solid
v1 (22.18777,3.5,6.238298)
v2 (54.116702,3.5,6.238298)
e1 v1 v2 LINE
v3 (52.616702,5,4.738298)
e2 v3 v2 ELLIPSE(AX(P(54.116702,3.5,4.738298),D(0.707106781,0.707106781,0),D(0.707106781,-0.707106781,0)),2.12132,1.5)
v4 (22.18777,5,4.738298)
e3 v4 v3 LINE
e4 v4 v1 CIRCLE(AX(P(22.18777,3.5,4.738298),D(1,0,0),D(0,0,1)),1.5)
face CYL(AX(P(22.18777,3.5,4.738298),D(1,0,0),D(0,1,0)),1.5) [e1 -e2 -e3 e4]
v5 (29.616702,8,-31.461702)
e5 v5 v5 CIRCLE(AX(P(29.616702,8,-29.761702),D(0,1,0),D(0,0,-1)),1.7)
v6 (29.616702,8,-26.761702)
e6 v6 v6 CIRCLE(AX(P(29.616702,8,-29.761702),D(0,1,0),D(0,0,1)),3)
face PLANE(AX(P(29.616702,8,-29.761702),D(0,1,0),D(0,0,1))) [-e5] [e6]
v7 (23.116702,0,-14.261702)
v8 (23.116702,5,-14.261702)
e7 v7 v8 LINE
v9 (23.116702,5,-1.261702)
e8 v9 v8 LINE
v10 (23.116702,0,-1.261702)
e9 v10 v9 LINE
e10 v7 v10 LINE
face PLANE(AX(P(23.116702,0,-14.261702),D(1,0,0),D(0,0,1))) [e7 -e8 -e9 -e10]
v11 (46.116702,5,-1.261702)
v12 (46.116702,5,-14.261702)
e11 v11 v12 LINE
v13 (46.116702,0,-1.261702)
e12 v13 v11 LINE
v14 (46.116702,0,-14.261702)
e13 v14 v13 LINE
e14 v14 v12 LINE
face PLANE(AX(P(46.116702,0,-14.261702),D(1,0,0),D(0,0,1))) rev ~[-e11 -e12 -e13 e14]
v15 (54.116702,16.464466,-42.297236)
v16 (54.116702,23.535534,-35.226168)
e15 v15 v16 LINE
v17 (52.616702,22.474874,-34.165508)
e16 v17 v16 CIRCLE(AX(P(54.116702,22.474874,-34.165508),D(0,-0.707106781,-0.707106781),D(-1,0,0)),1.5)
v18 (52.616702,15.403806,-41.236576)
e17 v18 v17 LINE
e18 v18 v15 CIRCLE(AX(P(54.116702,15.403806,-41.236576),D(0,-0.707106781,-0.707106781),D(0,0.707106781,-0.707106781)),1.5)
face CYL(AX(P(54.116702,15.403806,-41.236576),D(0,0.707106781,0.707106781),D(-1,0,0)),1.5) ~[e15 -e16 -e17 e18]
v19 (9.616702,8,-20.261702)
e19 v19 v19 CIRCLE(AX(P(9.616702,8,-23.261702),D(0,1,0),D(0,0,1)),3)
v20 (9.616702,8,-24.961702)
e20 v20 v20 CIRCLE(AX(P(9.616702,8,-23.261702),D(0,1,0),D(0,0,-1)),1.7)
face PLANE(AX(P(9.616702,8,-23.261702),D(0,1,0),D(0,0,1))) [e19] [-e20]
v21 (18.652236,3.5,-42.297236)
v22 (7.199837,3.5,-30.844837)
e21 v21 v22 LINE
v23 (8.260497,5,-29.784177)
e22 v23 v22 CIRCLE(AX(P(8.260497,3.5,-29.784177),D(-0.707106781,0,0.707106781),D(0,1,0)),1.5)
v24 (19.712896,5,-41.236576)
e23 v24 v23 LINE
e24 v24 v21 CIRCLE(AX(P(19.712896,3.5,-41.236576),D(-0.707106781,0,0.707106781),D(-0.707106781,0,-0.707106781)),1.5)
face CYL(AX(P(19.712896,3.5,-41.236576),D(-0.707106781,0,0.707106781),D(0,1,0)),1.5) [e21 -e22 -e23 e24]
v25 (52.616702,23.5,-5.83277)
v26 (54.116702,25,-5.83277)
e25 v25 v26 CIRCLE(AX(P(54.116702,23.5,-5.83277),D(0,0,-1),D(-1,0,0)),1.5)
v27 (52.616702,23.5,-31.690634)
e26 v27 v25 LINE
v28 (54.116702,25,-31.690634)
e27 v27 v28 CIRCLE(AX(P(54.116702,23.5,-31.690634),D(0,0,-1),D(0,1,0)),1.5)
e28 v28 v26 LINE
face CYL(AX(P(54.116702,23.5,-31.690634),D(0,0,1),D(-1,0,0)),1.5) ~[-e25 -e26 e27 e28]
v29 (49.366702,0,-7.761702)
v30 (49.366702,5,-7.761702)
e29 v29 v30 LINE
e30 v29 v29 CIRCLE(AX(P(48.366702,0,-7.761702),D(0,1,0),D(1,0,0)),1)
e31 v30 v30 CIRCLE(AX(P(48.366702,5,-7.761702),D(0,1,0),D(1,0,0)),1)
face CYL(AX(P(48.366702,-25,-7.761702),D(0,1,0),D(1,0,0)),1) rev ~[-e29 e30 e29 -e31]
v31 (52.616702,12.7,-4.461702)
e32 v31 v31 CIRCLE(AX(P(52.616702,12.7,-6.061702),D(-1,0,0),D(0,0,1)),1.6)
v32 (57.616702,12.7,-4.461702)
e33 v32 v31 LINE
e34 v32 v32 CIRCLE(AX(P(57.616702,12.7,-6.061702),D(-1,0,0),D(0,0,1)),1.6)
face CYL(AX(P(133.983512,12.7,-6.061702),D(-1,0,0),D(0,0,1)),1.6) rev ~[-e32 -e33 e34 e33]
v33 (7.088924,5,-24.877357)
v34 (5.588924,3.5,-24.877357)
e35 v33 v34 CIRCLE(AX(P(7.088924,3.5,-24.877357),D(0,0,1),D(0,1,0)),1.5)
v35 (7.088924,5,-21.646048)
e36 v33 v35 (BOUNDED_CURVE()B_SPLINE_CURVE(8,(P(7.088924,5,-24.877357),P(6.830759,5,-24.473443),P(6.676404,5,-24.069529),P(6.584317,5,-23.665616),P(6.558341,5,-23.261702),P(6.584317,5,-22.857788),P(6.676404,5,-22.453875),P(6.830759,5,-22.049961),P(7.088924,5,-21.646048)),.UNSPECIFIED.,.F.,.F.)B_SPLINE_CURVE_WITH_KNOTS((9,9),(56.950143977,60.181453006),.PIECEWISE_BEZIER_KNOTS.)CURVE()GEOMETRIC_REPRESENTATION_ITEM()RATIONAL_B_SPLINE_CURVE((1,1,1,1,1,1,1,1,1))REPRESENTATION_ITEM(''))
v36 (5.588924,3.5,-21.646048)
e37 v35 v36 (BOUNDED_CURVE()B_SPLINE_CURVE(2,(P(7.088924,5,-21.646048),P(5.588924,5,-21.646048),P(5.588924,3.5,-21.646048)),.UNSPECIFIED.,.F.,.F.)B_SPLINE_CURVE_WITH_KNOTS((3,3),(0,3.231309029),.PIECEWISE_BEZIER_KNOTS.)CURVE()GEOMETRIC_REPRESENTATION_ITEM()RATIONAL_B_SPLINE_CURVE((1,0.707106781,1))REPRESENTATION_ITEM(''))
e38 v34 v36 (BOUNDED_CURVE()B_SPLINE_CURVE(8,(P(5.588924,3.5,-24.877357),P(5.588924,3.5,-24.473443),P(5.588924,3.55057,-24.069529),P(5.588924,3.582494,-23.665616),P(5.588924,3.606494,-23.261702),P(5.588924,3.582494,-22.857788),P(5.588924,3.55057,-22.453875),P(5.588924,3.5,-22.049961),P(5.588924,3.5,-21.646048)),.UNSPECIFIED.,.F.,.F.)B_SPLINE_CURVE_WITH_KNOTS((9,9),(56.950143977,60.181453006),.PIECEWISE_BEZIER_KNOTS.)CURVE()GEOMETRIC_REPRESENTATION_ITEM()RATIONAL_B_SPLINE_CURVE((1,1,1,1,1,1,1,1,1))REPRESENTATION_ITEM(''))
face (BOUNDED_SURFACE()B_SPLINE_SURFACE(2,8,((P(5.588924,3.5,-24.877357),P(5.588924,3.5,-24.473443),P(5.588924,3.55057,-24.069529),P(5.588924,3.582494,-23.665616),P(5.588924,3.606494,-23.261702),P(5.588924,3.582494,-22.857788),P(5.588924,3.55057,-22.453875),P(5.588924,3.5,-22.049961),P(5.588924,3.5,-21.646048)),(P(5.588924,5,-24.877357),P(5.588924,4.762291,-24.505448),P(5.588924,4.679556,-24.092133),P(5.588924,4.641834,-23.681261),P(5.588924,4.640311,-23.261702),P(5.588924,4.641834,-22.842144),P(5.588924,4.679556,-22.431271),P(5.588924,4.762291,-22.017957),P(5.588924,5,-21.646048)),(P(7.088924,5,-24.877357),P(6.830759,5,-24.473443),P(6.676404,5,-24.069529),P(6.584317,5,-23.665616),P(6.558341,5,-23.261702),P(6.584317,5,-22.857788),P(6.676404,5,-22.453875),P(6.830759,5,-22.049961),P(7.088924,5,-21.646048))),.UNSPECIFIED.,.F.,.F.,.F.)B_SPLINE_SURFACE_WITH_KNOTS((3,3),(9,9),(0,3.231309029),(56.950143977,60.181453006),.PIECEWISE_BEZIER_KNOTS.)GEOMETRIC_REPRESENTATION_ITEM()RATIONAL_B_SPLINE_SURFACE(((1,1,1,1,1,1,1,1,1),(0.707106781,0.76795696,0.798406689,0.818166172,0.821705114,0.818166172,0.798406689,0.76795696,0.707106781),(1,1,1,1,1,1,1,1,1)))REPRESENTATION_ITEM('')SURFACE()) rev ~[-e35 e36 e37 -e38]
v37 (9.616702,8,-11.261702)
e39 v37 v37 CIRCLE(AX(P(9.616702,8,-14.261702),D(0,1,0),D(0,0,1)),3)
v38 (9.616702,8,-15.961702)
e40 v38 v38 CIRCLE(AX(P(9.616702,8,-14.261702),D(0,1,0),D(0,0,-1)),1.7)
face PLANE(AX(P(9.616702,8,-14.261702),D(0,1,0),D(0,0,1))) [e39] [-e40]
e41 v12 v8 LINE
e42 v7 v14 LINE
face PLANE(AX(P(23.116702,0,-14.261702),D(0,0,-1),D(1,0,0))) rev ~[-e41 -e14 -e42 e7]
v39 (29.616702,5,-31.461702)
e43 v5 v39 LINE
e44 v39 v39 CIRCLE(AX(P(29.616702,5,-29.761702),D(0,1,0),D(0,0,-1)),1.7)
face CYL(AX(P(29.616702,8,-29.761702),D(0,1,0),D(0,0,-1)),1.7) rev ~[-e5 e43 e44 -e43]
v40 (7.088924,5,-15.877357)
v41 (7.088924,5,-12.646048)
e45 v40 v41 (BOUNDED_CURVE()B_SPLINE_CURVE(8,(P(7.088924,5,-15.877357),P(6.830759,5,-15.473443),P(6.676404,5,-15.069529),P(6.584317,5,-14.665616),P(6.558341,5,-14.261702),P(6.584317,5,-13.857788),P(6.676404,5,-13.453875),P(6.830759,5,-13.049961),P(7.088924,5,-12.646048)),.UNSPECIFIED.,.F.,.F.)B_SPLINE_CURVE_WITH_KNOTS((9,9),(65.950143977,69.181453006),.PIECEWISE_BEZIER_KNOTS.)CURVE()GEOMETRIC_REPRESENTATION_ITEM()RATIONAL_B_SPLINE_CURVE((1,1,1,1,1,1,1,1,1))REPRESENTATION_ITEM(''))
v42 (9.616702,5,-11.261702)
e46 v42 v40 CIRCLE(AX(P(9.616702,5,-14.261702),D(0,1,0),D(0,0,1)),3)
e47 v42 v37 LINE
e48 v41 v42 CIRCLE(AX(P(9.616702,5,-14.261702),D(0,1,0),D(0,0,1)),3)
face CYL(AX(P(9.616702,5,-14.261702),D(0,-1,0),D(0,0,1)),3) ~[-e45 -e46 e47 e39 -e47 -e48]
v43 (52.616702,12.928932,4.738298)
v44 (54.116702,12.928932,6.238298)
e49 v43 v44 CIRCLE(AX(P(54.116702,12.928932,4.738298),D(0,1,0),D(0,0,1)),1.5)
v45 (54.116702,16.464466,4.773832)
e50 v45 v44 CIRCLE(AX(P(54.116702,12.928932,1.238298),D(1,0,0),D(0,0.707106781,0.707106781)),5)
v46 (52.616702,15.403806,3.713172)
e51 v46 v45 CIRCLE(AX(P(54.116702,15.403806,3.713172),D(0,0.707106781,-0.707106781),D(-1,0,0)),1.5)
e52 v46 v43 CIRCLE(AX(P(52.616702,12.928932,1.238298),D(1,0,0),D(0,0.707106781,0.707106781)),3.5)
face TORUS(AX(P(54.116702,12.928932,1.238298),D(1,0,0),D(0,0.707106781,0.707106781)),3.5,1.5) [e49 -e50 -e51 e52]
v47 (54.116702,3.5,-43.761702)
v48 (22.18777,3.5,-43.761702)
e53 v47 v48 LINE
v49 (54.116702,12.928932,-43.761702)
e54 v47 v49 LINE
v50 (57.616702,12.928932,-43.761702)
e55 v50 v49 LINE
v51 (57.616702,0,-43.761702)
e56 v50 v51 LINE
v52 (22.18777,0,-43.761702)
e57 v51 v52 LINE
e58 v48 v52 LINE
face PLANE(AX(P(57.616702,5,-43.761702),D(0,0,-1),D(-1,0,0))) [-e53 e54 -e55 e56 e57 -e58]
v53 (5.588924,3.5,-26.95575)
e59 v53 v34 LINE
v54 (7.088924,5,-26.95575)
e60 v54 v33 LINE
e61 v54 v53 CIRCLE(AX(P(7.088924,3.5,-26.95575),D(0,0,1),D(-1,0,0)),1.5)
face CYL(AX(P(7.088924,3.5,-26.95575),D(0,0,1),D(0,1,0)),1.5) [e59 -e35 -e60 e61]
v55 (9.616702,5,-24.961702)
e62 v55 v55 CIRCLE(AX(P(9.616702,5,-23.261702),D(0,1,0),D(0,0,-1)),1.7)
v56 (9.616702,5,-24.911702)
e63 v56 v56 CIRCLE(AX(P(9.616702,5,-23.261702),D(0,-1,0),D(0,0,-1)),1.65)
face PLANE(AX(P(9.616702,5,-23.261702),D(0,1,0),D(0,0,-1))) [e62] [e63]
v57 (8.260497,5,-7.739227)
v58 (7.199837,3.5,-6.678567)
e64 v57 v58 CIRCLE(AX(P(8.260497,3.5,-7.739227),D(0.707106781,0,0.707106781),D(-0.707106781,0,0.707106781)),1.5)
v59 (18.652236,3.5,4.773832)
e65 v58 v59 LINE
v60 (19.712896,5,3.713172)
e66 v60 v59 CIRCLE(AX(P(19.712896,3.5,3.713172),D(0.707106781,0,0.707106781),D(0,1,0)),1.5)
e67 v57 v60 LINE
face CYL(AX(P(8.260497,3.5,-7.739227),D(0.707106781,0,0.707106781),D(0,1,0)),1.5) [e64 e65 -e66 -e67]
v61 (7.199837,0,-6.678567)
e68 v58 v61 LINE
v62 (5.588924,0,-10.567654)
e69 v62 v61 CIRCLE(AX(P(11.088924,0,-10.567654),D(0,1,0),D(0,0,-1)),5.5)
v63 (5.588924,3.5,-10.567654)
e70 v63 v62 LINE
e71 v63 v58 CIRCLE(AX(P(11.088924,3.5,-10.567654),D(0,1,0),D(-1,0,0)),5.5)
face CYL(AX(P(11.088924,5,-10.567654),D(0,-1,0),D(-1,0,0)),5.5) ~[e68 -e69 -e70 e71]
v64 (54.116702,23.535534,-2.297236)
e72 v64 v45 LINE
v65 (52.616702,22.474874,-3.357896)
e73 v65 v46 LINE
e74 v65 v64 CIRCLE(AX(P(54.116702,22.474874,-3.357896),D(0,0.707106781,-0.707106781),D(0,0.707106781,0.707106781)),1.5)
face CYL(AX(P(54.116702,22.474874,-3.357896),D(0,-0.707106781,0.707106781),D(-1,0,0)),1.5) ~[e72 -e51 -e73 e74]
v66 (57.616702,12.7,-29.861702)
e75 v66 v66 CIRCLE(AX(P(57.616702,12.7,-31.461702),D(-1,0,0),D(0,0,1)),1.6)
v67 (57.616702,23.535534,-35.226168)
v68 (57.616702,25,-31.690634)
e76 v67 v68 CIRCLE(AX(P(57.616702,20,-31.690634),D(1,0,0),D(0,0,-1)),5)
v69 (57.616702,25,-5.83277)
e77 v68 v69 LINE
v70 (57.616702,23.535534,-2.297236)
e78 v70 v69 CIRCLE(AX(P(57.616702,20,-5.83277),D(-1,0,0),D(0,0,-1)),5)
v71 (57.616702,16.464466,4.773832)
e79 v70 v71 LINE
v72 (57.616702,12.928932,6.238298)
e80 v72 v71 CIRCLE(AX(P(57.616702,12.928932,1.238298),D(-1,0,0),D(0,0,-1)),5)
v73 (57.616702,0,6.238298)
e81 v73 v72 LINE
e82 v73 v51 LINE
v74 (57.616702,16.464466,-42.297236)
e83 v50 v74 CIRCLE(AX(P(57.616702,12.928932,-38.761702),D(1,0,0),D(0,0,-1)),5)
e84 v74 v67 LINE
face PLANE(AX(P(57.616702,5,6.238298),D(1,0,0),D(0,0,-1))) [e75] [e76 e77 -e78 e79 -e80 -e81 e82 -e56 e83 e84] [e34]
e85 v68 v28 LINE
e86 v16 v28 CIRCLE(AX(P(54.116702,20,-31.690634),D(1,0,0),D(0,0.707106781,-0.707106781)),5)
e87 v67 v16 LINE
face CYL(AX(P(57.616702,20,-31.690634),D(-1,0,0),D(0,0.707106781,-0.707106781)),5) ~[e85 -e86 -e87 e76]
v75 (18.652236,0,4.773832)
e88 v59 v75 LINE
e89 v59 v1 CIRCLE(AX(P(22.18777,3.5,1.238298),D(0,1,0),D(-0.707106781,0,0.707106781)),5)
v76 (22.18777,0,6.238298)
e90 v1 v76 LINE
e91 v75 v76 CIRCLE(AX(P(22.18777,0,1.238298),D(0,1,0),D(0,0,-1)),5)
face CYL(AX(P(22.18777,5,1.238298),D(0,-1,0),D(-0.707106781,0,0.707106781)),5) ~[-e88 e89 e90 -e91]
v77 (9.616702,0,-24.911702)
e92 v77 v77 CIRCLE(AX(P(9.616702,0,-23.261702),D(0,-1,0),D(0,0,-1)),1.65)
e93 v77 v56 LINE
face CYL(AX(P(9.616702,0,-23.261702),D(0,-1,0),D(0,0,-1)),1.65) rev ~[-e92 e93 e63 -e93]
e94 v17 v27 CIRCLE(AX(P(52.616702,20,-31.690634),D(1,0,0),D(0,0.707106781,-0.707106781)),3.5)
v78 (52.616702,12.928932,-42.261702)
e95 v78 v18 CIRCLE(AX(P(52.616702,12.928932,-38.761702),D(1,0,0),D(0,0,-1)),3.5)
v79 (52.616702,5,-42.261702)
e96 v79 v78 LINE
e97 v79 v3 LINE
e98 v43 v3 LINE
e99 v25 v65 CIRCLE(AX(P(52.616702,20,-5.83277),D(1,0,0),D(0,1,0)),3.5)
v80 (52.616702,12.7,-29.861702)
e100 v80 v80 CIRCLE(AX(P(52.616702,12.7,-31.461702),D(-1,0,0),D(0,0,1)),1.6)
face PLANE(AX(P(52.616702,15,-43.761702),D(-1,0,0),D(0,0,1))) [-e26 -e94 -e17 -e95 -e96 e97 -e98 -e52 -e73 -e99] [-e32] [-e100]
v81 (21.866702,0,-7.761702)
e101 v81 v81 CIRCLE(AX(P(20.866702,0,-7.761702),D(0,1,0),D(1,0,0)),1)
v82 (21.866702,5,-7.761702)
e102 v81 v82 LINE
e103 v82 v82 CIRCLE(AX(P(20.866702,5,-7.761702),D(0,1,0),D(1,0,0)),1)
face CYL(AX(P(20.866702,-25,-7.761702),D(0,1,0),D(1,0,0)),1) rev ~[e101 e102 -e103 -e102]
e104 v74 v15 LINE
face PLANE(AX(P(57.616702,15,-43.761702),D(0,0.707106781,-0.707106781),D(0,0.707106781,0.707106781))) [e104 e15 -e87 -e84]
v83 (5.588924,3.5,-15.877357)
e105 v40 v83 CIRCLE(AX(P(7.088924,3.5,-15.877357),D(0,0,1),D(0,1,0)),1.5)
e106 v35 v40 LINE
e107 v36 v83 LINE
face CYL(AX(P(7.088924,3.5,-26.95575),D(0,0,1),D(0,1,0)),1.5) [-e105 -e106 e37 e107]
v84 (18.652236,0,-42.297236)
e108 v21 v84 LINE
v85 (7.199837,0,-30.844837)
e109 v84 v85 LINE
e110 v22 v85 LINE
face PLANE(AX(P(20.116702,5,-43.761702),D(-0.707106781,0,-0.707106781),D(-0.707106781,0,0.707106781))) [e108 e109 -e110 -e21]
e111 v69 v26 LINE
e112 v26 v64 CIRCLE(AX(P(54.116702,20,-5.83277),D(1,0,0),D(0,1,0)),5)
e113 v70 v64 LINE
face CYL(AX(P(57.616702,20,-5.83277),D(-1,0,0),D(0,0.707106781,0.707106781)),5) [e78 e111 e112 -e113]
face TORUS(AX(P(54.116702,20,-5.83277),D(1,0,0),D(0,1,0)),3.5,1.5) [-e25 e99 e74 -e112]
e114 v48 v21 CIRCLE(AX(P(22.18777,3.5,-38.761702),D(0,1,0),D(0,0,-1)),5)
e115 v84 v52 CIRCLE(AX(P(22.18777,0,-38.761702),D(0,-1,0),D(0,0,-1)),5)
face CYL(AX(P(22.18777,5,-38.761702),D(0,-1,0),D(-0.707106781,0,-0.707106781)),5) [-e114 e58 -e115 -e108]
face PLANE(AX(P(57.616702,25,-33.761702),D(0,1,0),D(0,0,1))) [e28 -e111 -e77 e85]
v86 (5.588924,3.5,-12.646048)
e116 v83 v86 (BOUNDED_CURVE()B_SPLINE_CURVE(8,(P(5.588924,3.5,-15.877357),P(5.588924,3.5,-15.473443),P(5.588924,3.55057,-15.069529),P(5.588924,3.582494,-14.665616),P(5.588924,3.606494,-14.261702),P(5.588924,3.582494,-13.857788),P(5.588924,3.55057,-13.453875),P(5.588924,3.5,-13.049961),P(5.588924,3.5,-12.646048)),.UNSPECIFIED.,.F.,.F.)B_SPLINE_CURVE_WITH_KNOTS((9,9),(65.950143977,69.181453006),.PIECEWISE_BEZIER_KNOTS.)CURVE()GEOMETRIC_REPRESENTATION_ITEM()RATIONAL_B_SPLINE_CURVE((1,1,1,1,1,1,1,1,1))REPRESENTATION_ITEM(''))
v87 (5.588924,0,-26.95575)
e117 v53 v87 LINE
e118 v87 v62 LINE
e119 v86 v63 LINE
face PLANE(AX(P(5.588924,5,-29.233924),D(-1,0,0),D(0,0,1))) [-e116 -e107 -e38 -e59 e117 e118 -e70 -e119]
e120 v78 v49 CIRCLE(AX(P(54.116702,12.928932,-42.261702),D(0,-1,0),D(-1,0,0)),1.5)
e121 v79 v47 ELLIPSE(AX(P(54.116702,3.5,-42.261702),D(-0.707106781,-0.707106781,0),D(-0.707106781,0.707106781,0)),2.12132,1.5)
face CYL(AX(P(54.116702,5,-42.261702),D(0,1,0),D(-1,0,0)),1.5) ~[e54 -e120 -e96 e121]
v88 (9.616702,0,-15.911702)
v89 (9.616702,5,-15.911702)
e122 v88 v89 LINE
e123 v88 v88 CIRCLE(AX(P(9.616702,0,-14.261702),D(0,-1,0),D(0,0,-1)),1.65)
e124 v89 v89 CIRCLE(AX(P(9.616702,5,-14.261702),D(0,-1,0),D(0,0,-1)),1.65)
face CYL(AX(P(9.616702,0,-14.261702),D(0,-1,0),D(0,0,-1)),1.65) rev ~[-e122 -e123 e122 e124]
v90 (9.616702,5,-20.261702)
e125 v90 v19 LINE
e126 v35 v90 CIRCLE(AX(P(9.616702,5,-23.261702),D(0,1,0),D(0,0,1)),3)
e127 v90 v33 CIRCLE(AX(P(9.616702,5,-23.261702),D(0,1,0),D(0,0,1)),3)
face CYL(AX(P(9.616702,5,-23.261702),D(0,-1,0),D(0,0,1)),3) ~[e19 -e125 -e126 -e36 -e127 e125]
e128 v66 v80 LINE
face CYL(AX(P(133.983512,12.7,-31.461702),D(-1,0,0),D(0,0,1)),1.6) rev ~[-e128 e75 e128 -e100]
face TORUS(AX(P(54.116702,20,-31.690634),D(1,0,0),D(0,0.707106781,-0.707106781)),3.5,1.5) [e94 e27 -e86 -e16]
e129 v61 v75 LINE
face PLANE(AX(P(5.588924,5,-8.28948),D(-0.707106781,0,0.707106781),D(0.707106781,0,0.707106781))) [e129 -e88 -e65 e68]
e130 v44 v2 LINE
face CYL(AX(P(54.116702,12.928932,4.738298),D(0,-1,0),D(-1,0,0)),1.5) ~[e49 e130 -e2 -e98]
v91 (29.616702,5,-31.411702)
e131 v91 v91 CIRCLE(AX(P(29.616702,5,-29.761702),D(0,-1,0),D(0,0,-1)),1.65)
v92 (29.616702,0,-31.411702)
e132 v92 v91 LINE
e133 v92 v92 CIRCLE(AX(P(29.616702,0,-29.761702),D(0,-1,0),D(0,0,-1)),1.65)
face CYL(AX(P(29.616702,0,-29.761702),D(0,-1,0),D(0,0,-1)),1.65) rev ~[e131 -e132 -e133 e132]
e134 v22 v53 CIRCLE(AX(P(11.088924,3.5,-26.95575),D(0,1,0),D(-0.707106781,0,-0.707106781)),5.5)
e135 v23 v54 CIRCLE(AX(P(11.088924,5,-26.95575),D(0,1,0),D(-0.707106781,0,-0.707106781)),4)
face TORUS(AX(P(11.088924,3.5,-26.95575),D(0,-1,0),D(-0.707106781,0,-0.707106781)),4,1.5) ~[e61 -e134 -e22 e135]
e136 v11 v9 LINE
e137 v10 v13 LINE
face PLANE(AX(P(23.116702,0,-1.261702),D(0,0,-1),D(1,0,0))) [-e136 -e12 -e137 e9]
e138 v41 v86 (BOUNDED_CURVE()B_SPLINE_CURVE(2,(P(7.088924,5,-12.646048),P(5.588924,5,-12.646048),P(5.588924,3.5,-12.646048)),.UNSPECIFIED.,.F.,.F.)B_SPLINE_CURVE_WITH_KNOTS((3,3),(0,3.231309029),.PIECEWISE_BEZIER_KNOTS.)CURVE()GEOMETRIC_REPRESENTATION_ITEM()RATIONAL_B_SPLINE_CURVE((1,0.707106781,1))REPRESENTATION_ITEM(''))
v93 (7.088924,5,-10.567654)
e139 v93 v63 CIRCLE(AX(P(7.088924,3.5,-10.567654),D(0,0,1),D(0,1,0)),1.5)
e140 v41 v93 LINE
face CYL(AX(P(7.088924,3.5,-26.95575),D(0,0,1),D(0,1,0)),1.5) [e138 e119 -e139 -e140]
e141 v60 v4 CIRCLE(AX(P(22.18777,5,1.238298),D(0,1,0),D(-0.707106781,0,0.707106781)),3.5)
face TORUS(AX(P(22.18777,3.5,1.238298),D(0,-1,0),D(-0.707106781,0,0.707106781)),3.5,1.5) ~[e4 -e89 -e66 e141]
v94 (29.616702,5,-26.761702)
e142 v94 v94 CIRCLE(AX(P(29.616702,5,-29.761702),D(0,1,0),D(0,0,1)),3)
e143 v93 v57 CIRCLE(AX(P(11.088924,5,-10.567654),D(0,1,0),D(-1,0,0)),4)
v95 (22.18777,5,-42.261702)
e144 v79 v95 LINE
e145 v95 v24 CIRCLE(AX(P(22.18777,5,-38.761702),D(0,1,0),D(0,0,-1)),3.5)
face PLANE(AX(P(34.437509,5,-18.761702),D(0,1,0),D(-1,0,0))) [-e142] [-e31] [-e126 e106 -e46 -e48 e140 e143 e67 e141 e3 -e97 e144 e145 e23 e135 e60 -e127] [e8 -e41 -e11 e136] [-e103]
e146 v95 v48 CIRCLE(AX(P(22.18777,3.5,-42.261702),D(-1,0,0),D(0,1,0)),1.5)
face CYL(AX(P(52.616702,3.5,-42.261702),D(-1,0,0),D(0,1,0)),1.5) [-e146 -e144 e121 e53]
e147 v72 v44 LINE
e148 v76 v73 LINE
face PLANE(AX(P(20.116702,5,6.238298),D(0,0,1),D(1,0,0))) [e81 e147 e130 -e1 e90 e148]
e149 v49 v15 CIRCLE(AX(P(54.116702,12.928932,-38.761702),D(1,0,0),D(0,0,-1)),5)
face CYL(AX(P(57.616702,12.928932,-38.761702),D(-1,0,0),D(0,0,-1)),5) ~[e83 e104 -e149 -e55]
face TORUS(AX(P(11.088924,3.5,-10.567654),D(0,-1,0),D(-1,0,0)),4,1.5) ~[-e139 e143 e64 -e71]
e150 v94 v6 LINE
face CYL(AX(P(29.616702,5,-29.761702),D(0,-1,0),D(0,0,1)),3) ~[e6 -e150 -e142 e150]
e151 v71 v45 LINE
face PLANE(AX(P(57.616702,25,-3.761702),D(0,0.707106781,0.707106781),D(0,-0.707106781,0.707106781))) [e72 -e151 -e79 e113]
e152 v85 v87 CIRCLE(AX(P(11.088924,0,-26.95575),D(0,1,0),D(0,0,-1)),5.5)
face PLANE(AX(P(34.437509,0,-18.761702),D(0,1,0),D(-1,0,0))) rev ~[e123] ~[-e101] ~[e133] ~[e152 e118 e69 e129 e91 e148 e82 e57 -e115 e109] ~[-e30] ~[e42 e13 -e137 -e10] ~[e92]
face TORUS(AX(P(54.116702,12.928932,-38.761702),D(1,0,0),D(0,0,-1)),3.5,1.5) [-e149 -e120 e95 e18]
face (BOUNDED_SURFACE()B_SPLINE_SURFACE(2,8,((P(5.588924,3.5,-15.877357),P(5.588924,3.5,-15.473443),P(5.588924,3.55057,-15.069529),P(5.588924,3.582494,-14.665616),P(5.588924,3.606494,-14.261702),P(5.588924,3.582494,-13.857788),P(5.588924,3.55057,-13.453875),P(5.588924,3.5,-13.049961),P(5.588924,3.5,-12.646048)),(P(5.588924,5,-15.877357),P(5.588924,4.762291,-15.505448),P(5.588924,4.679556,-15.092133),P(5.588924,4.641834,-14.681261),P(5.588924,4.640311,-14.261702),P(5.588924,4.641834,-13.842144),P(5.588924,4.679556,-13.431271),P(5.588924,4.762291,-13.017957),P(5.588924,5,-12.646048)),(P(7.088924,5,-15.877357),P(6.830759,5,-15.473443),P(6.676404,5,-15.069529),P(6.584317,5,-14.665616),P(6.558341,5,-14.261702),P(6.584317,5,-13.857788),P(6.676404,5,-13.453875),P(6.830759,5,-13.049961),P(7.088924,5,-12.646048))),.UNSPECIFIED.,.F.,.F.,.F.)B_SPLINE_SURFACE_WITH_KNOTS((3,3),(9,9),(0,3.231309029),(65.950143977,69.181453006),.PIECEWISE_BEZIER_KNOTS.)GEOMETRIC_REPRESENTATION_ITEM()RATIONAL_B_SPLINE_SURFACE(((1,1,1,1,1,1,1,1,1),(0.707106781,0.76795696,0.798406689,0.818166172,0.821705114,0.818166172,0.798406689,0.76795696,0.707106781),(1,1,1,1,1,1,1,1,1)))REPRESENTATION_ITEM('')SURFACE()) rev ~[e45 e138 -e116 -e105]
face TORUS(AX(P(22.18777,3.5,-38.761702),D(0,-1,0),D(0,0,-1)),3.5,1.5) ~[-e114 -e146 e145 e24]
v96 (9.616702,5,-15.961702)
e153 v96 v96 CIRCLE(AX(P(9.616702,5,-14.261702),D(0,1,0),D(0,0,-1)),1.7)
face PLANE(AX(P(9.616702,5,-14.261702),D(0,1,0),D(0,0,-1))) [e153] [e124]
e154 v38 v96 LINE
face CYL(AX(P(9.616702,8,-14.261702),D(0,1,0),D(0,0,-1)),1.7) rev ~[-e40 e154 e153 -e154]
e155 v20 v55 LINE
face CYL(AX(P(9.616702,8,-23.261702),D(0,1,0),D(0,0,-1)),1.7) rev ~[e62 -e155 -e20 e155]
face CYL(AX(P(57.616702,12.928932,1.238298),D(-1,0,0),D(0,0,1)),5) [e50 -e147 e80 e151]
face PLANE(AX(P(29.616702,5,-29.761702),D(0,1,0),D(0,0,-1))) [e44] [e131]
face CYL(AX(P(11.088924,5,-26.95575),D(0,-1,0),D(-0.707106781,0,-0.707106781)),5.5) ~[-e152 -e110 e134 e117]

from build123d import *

# Parameters (mm, degrees)
BOSS_EXTRUDE1_DEPTH       = 5
SKETCH2_W                 = 5
SKETCH2_H                 = 50
BOSS_EXTRUDE2_DEPTH       = 10
BOSS_EXTRUDE3_DEPTH       = 5
SKETCH4_R                 = 3
BOSS_EXTRUDE4_DEPTH       = 3
SKETCH5_R                 = 1.7
CUT_EXTRUDE1_DEPTH        = 3
SKETCH6_R                 = 1.65
CUT_EXTRUDE2_DEPTH        = 77.549140495
SKETCH7_R                 = 3
BOSS_EXTRUDE5_DEPTH       = 3
SKETCH8_R                 = 1.7
CUT_EXTRUDE3_DEPTH        = 3
SKETCH9_R                 = 1.65
CUT_EXTRUDE4_DEPTH        = 77.549140495
SKETCH10_W                = 23
SKETCH10_H                = 13
CUT_EXTRUDE5_DEPTH        = 77.549140495
SKETCH11_R                = 3
BOSS_EXTRUDE6_DEPTH       = 3
SKETCH12_R                = 1.7
CUT_EXTRUDE6_DEPTH        = 3
SKETCH13_R                = 1.65
CUT_EXTRUDE7_DEPTH        = 77.549140495
F_1_CLEARANCE_HOLE1_D     = 2
F_1_CLEARANCE_HOLE1_DEPTH = 25
F_4_CLEARANCE_HOLE1_D     = 3.2
FILLET1_R                 = 5
FILLET2_R                 = 5.5
FILLET3_R                 = 1.5


with BuildPart() as part:
    # Sketch1 → Boss-Extrude1 (new body)
    with BuildSketch(Plane(origin=(57.616701934, 0, 0), x_dir=(0, 0, -1), z_dir=(1, 0, 0))):
        Polygon((-6.238297922, 15), (43.761702078, 15), (33.761702078, 25), (3.761702078, 25), align=None)
    extrude(amount=-BOSS_EXTRUDE1_DEPTH)

    # Sketch2 → Boss-Extrude2 (add)
    with BuildSketch(Plane.XZ.offset(-15)):
        with Locations((55.116701934, -18.761702078)):
            Rectangle(SKETCH2_W, SKETCH2_H)
    extrude(amount=BOSS_EXTRUDE2_DEPTH)

    # Sketch3 → Boss-Extrude3 (add)
    with BuildSketch(Plane.XZ.offset(-5)):
        Polygon((5.588924157, -29.2339243), (5.588924157, -8.289479856), (20.116701934, 6.238297922), (57.616701934, 6.238297922), (57.616701934, -43.761702078), (20.116701934, -43.761702078), align=None)
    extrude(amount=BOSS_EXTRUDE3_DEPTH)

    # Sketch4 → Boss-Extrude4 (add)
    with BuildSketch(Plane(origin=(0, 5, 0), x_dir=(-1, 0, 0), z_dir=(0, 1, 0))):
        with Locations(Location((-29.616701934, -29.761702078, 0), (0, 0, 90))):
            Circle(SKETCH4_R)
    extrude(amount=BOSS_EXTRUDE4_DEPTH)

    # Sketch5 → Cut-Extrude1 (cut)
    with BuildSketch(Plane(origin=(0, 8, 0), x_dir=(-1, 0, 0), z_dir=(0, 1, 0))):
        with Locations(Location((-29.616701934, -29.761702078, 0), (0, 0, 270))):
            Circle(SKETCH5_R)
    extrude(amount=-CUT_EXTRUDE1_DEPTH, mode=Mode.SUBTRACT)

    # Sketch6 → Cut-Extrude2 (cut, through all)
    with BuildSketch(Plane.XZ):
        with Locations(Location((29.616701934, -29.761702078, 0), (0, 0, 270))):
            Circle(SKETCH6_R)
    extrude(amount=-CUT_EXTRUDE2_DEPTH, mode=Mode.SUBTRACT)

    # Sketch7 → Boss-Extrude5 (add)
    with BuildSketch(Plane(origin=(0, 5, 0), x_dir=(-1, 0, 0), z_dir=(0, 1, 0))):
        with Locations(Location((-9.616701934, -23.261702078, 0), (0, 0, 90))):
            Circle(SKETCH7_R)
    extrude(amount=BOSS_EXTRUDE5_DEPTH)

    # Sketch8 → Cut-Extrude3 (cut)
    with BuildSketch(Plane(origin=(0, 8, 0), x_dir=(-1, 0, 0), z_dir=(0, 1, 0))):
        with Locations(Location((-9.616701934, -23.261702078, 0), (0, 0, 270))):
            Circle(SKETCH8_R)
    extrude(amount=-CUT_EXTRUDE3_DEPTH, mode=Mode.SUBTRACT)

    # Sketch9 → Cut-Extrude4 (cut, through all)
    with BuildSketch(Plane.XZ):
        with Locations(Location((9.616701934, -23.261702078, 0), (0, 0, 270))):
            Circle(SKETCH9_R)
    extrude(amount=-CUT_EXTRUDE4_DEPTH, mode=Mode.SUBTRACT)

    # Sketch10 → Cut-Extrude5 (cut, through all)
    with BuildSketch(Plane.XZ):
        with Locations((34.616701934, -7.761702078)):
            Rectangle(SKETCH10_W, SKETCH10_H)
    extrude(amount=-CUT_EXTRUDE5_DEPTH, mode=Mode.SUBTRACT)

    # Sketch11 → Boss-Extrude6 (add)
    with BuildSketch(Plane(origin=(0, 5, 0), x_dir=(-1, 0, 0), z_dir=(0, 1, 0))):
        with Locations(Location((-9.616701934, -14.261702078, 0), (0, 0, 90))):
            Circle(SKETCH11_R)
    extrude(amount=BOSS_EXTRUDE6_DEPTH)

    # Sketch12 → Cut-Extrude6 (cut)
    with BuildSketch(Plane(origin=(0, 8, 0), x_dir=(-1, 0, 0), z_dir=(0, 1, 0))):
        with Locations(Location((-9.616701934, -14.261702078, 0), (0, 0, 270))):
            Circle(SKETCH12_R)
    extrude(amount=-CUT_EXTRUDE6_DEPTH, mode=Mode.SUBTRACT)

    # Sketch13 → Cut-Extrude7 (cut, through all)
    with BuildSketch(Plane.XZ):
        with Locations(Location((9.616701934, -14.261702078, 0), (0, 0, 270))):
            Circle(SKETCH13_R)
    extrude(amount=-CUT_EXTRUDE7_DEPTH, mode=Mode.SUBTRACT)

    # #1 Clearance Hole1
    with Locations(Plane(origin=(0, 0, 0), x_dir=(-1, 0, 0), z_dir=(0, -1, 0))):
        with Locations((-48.366701934, 7.761702078), (-20.866701934, 7.761702078)):
            Hole(F_1_CLEARANCE_HOLE1_D / 2, depth=F_1_CLEARANCE_HOLE1_DEPTH)

    # #4 Clearance Hole1 (through all)
    with Locations(Plane(origin=(57.616701934, 0, 0), x_dir=(0, 0, -1), z_dir=(1, 0, 0))):
        with Locations((31.461702078, 12.7), (6.061702078, 12.7)):
            Hole(F_4_CLEARANCE_HOLE1_D / 2)

    # Fillet1
    fillet1_edges = [part.edges().sort_by_distance(p)[0] for p in [
        (20.116701934, 2.5, -43.761702078),
        (20.116701934, 2.5, 6.238297922),
        (55.116701934, 25, -3.761702078),
        (55.116701934, 25, -33.761702078),
        (55.116701934, 15, -43.761702078),
        (55.116701934, 15, 6.238297922),
    ]]
    fillet(fillet1_edges, radius=FILLET1_R)

    # Fillet2
    fillet2_edges = [part.edges().sort_by_distance(p)[0] for p in [
        (5.588924157, 2.5, -29.2339243),
        (5.588924157, 2.5, -8.289479856),
    ]]
    fillet(fillet2_edges, radius=FILLET2_R)

    # Fillet3
    fillet3_edges = [part.edges().sort_by_distance(p)[0] for p in [
        (52.616701934, 25, -18.761702078),
        (52.616701934, 20, 1.238297922),
        (52.616701934, 20, -38.761702078),
        (52.616701934, 14.84234935, 5.857695585),
        (52.616701934, 24.619397663, -33.604051428),
        (52.616701934, 14.84234935, -43.38109974),
        (52.616701934, 8.964466094, -43.761702078),
        (52.616701934, 24.619397663, -3.919352728),
        (37.40223584, 5, -43.761702078),
        (12.92603635, 5, -0.952367662),
        (20.274352584, 5, 5.857695585),
        (20.274352584, 5, -43.38109974),
        (52.616701934, 8.964466094, 6.238297922),
        (5.588924157, 5, -18.761702078),
        (12.92603635, 5, -36.571036494),
        (6.007586728, 5, -29.060508585),
        (6.007586728, 5, -8.462895571),
        (37.40223584, 5, 6.238297922),
    ]]
    fillet(fillet3_edges, radius=FILLET3_R)


solid = part.part
